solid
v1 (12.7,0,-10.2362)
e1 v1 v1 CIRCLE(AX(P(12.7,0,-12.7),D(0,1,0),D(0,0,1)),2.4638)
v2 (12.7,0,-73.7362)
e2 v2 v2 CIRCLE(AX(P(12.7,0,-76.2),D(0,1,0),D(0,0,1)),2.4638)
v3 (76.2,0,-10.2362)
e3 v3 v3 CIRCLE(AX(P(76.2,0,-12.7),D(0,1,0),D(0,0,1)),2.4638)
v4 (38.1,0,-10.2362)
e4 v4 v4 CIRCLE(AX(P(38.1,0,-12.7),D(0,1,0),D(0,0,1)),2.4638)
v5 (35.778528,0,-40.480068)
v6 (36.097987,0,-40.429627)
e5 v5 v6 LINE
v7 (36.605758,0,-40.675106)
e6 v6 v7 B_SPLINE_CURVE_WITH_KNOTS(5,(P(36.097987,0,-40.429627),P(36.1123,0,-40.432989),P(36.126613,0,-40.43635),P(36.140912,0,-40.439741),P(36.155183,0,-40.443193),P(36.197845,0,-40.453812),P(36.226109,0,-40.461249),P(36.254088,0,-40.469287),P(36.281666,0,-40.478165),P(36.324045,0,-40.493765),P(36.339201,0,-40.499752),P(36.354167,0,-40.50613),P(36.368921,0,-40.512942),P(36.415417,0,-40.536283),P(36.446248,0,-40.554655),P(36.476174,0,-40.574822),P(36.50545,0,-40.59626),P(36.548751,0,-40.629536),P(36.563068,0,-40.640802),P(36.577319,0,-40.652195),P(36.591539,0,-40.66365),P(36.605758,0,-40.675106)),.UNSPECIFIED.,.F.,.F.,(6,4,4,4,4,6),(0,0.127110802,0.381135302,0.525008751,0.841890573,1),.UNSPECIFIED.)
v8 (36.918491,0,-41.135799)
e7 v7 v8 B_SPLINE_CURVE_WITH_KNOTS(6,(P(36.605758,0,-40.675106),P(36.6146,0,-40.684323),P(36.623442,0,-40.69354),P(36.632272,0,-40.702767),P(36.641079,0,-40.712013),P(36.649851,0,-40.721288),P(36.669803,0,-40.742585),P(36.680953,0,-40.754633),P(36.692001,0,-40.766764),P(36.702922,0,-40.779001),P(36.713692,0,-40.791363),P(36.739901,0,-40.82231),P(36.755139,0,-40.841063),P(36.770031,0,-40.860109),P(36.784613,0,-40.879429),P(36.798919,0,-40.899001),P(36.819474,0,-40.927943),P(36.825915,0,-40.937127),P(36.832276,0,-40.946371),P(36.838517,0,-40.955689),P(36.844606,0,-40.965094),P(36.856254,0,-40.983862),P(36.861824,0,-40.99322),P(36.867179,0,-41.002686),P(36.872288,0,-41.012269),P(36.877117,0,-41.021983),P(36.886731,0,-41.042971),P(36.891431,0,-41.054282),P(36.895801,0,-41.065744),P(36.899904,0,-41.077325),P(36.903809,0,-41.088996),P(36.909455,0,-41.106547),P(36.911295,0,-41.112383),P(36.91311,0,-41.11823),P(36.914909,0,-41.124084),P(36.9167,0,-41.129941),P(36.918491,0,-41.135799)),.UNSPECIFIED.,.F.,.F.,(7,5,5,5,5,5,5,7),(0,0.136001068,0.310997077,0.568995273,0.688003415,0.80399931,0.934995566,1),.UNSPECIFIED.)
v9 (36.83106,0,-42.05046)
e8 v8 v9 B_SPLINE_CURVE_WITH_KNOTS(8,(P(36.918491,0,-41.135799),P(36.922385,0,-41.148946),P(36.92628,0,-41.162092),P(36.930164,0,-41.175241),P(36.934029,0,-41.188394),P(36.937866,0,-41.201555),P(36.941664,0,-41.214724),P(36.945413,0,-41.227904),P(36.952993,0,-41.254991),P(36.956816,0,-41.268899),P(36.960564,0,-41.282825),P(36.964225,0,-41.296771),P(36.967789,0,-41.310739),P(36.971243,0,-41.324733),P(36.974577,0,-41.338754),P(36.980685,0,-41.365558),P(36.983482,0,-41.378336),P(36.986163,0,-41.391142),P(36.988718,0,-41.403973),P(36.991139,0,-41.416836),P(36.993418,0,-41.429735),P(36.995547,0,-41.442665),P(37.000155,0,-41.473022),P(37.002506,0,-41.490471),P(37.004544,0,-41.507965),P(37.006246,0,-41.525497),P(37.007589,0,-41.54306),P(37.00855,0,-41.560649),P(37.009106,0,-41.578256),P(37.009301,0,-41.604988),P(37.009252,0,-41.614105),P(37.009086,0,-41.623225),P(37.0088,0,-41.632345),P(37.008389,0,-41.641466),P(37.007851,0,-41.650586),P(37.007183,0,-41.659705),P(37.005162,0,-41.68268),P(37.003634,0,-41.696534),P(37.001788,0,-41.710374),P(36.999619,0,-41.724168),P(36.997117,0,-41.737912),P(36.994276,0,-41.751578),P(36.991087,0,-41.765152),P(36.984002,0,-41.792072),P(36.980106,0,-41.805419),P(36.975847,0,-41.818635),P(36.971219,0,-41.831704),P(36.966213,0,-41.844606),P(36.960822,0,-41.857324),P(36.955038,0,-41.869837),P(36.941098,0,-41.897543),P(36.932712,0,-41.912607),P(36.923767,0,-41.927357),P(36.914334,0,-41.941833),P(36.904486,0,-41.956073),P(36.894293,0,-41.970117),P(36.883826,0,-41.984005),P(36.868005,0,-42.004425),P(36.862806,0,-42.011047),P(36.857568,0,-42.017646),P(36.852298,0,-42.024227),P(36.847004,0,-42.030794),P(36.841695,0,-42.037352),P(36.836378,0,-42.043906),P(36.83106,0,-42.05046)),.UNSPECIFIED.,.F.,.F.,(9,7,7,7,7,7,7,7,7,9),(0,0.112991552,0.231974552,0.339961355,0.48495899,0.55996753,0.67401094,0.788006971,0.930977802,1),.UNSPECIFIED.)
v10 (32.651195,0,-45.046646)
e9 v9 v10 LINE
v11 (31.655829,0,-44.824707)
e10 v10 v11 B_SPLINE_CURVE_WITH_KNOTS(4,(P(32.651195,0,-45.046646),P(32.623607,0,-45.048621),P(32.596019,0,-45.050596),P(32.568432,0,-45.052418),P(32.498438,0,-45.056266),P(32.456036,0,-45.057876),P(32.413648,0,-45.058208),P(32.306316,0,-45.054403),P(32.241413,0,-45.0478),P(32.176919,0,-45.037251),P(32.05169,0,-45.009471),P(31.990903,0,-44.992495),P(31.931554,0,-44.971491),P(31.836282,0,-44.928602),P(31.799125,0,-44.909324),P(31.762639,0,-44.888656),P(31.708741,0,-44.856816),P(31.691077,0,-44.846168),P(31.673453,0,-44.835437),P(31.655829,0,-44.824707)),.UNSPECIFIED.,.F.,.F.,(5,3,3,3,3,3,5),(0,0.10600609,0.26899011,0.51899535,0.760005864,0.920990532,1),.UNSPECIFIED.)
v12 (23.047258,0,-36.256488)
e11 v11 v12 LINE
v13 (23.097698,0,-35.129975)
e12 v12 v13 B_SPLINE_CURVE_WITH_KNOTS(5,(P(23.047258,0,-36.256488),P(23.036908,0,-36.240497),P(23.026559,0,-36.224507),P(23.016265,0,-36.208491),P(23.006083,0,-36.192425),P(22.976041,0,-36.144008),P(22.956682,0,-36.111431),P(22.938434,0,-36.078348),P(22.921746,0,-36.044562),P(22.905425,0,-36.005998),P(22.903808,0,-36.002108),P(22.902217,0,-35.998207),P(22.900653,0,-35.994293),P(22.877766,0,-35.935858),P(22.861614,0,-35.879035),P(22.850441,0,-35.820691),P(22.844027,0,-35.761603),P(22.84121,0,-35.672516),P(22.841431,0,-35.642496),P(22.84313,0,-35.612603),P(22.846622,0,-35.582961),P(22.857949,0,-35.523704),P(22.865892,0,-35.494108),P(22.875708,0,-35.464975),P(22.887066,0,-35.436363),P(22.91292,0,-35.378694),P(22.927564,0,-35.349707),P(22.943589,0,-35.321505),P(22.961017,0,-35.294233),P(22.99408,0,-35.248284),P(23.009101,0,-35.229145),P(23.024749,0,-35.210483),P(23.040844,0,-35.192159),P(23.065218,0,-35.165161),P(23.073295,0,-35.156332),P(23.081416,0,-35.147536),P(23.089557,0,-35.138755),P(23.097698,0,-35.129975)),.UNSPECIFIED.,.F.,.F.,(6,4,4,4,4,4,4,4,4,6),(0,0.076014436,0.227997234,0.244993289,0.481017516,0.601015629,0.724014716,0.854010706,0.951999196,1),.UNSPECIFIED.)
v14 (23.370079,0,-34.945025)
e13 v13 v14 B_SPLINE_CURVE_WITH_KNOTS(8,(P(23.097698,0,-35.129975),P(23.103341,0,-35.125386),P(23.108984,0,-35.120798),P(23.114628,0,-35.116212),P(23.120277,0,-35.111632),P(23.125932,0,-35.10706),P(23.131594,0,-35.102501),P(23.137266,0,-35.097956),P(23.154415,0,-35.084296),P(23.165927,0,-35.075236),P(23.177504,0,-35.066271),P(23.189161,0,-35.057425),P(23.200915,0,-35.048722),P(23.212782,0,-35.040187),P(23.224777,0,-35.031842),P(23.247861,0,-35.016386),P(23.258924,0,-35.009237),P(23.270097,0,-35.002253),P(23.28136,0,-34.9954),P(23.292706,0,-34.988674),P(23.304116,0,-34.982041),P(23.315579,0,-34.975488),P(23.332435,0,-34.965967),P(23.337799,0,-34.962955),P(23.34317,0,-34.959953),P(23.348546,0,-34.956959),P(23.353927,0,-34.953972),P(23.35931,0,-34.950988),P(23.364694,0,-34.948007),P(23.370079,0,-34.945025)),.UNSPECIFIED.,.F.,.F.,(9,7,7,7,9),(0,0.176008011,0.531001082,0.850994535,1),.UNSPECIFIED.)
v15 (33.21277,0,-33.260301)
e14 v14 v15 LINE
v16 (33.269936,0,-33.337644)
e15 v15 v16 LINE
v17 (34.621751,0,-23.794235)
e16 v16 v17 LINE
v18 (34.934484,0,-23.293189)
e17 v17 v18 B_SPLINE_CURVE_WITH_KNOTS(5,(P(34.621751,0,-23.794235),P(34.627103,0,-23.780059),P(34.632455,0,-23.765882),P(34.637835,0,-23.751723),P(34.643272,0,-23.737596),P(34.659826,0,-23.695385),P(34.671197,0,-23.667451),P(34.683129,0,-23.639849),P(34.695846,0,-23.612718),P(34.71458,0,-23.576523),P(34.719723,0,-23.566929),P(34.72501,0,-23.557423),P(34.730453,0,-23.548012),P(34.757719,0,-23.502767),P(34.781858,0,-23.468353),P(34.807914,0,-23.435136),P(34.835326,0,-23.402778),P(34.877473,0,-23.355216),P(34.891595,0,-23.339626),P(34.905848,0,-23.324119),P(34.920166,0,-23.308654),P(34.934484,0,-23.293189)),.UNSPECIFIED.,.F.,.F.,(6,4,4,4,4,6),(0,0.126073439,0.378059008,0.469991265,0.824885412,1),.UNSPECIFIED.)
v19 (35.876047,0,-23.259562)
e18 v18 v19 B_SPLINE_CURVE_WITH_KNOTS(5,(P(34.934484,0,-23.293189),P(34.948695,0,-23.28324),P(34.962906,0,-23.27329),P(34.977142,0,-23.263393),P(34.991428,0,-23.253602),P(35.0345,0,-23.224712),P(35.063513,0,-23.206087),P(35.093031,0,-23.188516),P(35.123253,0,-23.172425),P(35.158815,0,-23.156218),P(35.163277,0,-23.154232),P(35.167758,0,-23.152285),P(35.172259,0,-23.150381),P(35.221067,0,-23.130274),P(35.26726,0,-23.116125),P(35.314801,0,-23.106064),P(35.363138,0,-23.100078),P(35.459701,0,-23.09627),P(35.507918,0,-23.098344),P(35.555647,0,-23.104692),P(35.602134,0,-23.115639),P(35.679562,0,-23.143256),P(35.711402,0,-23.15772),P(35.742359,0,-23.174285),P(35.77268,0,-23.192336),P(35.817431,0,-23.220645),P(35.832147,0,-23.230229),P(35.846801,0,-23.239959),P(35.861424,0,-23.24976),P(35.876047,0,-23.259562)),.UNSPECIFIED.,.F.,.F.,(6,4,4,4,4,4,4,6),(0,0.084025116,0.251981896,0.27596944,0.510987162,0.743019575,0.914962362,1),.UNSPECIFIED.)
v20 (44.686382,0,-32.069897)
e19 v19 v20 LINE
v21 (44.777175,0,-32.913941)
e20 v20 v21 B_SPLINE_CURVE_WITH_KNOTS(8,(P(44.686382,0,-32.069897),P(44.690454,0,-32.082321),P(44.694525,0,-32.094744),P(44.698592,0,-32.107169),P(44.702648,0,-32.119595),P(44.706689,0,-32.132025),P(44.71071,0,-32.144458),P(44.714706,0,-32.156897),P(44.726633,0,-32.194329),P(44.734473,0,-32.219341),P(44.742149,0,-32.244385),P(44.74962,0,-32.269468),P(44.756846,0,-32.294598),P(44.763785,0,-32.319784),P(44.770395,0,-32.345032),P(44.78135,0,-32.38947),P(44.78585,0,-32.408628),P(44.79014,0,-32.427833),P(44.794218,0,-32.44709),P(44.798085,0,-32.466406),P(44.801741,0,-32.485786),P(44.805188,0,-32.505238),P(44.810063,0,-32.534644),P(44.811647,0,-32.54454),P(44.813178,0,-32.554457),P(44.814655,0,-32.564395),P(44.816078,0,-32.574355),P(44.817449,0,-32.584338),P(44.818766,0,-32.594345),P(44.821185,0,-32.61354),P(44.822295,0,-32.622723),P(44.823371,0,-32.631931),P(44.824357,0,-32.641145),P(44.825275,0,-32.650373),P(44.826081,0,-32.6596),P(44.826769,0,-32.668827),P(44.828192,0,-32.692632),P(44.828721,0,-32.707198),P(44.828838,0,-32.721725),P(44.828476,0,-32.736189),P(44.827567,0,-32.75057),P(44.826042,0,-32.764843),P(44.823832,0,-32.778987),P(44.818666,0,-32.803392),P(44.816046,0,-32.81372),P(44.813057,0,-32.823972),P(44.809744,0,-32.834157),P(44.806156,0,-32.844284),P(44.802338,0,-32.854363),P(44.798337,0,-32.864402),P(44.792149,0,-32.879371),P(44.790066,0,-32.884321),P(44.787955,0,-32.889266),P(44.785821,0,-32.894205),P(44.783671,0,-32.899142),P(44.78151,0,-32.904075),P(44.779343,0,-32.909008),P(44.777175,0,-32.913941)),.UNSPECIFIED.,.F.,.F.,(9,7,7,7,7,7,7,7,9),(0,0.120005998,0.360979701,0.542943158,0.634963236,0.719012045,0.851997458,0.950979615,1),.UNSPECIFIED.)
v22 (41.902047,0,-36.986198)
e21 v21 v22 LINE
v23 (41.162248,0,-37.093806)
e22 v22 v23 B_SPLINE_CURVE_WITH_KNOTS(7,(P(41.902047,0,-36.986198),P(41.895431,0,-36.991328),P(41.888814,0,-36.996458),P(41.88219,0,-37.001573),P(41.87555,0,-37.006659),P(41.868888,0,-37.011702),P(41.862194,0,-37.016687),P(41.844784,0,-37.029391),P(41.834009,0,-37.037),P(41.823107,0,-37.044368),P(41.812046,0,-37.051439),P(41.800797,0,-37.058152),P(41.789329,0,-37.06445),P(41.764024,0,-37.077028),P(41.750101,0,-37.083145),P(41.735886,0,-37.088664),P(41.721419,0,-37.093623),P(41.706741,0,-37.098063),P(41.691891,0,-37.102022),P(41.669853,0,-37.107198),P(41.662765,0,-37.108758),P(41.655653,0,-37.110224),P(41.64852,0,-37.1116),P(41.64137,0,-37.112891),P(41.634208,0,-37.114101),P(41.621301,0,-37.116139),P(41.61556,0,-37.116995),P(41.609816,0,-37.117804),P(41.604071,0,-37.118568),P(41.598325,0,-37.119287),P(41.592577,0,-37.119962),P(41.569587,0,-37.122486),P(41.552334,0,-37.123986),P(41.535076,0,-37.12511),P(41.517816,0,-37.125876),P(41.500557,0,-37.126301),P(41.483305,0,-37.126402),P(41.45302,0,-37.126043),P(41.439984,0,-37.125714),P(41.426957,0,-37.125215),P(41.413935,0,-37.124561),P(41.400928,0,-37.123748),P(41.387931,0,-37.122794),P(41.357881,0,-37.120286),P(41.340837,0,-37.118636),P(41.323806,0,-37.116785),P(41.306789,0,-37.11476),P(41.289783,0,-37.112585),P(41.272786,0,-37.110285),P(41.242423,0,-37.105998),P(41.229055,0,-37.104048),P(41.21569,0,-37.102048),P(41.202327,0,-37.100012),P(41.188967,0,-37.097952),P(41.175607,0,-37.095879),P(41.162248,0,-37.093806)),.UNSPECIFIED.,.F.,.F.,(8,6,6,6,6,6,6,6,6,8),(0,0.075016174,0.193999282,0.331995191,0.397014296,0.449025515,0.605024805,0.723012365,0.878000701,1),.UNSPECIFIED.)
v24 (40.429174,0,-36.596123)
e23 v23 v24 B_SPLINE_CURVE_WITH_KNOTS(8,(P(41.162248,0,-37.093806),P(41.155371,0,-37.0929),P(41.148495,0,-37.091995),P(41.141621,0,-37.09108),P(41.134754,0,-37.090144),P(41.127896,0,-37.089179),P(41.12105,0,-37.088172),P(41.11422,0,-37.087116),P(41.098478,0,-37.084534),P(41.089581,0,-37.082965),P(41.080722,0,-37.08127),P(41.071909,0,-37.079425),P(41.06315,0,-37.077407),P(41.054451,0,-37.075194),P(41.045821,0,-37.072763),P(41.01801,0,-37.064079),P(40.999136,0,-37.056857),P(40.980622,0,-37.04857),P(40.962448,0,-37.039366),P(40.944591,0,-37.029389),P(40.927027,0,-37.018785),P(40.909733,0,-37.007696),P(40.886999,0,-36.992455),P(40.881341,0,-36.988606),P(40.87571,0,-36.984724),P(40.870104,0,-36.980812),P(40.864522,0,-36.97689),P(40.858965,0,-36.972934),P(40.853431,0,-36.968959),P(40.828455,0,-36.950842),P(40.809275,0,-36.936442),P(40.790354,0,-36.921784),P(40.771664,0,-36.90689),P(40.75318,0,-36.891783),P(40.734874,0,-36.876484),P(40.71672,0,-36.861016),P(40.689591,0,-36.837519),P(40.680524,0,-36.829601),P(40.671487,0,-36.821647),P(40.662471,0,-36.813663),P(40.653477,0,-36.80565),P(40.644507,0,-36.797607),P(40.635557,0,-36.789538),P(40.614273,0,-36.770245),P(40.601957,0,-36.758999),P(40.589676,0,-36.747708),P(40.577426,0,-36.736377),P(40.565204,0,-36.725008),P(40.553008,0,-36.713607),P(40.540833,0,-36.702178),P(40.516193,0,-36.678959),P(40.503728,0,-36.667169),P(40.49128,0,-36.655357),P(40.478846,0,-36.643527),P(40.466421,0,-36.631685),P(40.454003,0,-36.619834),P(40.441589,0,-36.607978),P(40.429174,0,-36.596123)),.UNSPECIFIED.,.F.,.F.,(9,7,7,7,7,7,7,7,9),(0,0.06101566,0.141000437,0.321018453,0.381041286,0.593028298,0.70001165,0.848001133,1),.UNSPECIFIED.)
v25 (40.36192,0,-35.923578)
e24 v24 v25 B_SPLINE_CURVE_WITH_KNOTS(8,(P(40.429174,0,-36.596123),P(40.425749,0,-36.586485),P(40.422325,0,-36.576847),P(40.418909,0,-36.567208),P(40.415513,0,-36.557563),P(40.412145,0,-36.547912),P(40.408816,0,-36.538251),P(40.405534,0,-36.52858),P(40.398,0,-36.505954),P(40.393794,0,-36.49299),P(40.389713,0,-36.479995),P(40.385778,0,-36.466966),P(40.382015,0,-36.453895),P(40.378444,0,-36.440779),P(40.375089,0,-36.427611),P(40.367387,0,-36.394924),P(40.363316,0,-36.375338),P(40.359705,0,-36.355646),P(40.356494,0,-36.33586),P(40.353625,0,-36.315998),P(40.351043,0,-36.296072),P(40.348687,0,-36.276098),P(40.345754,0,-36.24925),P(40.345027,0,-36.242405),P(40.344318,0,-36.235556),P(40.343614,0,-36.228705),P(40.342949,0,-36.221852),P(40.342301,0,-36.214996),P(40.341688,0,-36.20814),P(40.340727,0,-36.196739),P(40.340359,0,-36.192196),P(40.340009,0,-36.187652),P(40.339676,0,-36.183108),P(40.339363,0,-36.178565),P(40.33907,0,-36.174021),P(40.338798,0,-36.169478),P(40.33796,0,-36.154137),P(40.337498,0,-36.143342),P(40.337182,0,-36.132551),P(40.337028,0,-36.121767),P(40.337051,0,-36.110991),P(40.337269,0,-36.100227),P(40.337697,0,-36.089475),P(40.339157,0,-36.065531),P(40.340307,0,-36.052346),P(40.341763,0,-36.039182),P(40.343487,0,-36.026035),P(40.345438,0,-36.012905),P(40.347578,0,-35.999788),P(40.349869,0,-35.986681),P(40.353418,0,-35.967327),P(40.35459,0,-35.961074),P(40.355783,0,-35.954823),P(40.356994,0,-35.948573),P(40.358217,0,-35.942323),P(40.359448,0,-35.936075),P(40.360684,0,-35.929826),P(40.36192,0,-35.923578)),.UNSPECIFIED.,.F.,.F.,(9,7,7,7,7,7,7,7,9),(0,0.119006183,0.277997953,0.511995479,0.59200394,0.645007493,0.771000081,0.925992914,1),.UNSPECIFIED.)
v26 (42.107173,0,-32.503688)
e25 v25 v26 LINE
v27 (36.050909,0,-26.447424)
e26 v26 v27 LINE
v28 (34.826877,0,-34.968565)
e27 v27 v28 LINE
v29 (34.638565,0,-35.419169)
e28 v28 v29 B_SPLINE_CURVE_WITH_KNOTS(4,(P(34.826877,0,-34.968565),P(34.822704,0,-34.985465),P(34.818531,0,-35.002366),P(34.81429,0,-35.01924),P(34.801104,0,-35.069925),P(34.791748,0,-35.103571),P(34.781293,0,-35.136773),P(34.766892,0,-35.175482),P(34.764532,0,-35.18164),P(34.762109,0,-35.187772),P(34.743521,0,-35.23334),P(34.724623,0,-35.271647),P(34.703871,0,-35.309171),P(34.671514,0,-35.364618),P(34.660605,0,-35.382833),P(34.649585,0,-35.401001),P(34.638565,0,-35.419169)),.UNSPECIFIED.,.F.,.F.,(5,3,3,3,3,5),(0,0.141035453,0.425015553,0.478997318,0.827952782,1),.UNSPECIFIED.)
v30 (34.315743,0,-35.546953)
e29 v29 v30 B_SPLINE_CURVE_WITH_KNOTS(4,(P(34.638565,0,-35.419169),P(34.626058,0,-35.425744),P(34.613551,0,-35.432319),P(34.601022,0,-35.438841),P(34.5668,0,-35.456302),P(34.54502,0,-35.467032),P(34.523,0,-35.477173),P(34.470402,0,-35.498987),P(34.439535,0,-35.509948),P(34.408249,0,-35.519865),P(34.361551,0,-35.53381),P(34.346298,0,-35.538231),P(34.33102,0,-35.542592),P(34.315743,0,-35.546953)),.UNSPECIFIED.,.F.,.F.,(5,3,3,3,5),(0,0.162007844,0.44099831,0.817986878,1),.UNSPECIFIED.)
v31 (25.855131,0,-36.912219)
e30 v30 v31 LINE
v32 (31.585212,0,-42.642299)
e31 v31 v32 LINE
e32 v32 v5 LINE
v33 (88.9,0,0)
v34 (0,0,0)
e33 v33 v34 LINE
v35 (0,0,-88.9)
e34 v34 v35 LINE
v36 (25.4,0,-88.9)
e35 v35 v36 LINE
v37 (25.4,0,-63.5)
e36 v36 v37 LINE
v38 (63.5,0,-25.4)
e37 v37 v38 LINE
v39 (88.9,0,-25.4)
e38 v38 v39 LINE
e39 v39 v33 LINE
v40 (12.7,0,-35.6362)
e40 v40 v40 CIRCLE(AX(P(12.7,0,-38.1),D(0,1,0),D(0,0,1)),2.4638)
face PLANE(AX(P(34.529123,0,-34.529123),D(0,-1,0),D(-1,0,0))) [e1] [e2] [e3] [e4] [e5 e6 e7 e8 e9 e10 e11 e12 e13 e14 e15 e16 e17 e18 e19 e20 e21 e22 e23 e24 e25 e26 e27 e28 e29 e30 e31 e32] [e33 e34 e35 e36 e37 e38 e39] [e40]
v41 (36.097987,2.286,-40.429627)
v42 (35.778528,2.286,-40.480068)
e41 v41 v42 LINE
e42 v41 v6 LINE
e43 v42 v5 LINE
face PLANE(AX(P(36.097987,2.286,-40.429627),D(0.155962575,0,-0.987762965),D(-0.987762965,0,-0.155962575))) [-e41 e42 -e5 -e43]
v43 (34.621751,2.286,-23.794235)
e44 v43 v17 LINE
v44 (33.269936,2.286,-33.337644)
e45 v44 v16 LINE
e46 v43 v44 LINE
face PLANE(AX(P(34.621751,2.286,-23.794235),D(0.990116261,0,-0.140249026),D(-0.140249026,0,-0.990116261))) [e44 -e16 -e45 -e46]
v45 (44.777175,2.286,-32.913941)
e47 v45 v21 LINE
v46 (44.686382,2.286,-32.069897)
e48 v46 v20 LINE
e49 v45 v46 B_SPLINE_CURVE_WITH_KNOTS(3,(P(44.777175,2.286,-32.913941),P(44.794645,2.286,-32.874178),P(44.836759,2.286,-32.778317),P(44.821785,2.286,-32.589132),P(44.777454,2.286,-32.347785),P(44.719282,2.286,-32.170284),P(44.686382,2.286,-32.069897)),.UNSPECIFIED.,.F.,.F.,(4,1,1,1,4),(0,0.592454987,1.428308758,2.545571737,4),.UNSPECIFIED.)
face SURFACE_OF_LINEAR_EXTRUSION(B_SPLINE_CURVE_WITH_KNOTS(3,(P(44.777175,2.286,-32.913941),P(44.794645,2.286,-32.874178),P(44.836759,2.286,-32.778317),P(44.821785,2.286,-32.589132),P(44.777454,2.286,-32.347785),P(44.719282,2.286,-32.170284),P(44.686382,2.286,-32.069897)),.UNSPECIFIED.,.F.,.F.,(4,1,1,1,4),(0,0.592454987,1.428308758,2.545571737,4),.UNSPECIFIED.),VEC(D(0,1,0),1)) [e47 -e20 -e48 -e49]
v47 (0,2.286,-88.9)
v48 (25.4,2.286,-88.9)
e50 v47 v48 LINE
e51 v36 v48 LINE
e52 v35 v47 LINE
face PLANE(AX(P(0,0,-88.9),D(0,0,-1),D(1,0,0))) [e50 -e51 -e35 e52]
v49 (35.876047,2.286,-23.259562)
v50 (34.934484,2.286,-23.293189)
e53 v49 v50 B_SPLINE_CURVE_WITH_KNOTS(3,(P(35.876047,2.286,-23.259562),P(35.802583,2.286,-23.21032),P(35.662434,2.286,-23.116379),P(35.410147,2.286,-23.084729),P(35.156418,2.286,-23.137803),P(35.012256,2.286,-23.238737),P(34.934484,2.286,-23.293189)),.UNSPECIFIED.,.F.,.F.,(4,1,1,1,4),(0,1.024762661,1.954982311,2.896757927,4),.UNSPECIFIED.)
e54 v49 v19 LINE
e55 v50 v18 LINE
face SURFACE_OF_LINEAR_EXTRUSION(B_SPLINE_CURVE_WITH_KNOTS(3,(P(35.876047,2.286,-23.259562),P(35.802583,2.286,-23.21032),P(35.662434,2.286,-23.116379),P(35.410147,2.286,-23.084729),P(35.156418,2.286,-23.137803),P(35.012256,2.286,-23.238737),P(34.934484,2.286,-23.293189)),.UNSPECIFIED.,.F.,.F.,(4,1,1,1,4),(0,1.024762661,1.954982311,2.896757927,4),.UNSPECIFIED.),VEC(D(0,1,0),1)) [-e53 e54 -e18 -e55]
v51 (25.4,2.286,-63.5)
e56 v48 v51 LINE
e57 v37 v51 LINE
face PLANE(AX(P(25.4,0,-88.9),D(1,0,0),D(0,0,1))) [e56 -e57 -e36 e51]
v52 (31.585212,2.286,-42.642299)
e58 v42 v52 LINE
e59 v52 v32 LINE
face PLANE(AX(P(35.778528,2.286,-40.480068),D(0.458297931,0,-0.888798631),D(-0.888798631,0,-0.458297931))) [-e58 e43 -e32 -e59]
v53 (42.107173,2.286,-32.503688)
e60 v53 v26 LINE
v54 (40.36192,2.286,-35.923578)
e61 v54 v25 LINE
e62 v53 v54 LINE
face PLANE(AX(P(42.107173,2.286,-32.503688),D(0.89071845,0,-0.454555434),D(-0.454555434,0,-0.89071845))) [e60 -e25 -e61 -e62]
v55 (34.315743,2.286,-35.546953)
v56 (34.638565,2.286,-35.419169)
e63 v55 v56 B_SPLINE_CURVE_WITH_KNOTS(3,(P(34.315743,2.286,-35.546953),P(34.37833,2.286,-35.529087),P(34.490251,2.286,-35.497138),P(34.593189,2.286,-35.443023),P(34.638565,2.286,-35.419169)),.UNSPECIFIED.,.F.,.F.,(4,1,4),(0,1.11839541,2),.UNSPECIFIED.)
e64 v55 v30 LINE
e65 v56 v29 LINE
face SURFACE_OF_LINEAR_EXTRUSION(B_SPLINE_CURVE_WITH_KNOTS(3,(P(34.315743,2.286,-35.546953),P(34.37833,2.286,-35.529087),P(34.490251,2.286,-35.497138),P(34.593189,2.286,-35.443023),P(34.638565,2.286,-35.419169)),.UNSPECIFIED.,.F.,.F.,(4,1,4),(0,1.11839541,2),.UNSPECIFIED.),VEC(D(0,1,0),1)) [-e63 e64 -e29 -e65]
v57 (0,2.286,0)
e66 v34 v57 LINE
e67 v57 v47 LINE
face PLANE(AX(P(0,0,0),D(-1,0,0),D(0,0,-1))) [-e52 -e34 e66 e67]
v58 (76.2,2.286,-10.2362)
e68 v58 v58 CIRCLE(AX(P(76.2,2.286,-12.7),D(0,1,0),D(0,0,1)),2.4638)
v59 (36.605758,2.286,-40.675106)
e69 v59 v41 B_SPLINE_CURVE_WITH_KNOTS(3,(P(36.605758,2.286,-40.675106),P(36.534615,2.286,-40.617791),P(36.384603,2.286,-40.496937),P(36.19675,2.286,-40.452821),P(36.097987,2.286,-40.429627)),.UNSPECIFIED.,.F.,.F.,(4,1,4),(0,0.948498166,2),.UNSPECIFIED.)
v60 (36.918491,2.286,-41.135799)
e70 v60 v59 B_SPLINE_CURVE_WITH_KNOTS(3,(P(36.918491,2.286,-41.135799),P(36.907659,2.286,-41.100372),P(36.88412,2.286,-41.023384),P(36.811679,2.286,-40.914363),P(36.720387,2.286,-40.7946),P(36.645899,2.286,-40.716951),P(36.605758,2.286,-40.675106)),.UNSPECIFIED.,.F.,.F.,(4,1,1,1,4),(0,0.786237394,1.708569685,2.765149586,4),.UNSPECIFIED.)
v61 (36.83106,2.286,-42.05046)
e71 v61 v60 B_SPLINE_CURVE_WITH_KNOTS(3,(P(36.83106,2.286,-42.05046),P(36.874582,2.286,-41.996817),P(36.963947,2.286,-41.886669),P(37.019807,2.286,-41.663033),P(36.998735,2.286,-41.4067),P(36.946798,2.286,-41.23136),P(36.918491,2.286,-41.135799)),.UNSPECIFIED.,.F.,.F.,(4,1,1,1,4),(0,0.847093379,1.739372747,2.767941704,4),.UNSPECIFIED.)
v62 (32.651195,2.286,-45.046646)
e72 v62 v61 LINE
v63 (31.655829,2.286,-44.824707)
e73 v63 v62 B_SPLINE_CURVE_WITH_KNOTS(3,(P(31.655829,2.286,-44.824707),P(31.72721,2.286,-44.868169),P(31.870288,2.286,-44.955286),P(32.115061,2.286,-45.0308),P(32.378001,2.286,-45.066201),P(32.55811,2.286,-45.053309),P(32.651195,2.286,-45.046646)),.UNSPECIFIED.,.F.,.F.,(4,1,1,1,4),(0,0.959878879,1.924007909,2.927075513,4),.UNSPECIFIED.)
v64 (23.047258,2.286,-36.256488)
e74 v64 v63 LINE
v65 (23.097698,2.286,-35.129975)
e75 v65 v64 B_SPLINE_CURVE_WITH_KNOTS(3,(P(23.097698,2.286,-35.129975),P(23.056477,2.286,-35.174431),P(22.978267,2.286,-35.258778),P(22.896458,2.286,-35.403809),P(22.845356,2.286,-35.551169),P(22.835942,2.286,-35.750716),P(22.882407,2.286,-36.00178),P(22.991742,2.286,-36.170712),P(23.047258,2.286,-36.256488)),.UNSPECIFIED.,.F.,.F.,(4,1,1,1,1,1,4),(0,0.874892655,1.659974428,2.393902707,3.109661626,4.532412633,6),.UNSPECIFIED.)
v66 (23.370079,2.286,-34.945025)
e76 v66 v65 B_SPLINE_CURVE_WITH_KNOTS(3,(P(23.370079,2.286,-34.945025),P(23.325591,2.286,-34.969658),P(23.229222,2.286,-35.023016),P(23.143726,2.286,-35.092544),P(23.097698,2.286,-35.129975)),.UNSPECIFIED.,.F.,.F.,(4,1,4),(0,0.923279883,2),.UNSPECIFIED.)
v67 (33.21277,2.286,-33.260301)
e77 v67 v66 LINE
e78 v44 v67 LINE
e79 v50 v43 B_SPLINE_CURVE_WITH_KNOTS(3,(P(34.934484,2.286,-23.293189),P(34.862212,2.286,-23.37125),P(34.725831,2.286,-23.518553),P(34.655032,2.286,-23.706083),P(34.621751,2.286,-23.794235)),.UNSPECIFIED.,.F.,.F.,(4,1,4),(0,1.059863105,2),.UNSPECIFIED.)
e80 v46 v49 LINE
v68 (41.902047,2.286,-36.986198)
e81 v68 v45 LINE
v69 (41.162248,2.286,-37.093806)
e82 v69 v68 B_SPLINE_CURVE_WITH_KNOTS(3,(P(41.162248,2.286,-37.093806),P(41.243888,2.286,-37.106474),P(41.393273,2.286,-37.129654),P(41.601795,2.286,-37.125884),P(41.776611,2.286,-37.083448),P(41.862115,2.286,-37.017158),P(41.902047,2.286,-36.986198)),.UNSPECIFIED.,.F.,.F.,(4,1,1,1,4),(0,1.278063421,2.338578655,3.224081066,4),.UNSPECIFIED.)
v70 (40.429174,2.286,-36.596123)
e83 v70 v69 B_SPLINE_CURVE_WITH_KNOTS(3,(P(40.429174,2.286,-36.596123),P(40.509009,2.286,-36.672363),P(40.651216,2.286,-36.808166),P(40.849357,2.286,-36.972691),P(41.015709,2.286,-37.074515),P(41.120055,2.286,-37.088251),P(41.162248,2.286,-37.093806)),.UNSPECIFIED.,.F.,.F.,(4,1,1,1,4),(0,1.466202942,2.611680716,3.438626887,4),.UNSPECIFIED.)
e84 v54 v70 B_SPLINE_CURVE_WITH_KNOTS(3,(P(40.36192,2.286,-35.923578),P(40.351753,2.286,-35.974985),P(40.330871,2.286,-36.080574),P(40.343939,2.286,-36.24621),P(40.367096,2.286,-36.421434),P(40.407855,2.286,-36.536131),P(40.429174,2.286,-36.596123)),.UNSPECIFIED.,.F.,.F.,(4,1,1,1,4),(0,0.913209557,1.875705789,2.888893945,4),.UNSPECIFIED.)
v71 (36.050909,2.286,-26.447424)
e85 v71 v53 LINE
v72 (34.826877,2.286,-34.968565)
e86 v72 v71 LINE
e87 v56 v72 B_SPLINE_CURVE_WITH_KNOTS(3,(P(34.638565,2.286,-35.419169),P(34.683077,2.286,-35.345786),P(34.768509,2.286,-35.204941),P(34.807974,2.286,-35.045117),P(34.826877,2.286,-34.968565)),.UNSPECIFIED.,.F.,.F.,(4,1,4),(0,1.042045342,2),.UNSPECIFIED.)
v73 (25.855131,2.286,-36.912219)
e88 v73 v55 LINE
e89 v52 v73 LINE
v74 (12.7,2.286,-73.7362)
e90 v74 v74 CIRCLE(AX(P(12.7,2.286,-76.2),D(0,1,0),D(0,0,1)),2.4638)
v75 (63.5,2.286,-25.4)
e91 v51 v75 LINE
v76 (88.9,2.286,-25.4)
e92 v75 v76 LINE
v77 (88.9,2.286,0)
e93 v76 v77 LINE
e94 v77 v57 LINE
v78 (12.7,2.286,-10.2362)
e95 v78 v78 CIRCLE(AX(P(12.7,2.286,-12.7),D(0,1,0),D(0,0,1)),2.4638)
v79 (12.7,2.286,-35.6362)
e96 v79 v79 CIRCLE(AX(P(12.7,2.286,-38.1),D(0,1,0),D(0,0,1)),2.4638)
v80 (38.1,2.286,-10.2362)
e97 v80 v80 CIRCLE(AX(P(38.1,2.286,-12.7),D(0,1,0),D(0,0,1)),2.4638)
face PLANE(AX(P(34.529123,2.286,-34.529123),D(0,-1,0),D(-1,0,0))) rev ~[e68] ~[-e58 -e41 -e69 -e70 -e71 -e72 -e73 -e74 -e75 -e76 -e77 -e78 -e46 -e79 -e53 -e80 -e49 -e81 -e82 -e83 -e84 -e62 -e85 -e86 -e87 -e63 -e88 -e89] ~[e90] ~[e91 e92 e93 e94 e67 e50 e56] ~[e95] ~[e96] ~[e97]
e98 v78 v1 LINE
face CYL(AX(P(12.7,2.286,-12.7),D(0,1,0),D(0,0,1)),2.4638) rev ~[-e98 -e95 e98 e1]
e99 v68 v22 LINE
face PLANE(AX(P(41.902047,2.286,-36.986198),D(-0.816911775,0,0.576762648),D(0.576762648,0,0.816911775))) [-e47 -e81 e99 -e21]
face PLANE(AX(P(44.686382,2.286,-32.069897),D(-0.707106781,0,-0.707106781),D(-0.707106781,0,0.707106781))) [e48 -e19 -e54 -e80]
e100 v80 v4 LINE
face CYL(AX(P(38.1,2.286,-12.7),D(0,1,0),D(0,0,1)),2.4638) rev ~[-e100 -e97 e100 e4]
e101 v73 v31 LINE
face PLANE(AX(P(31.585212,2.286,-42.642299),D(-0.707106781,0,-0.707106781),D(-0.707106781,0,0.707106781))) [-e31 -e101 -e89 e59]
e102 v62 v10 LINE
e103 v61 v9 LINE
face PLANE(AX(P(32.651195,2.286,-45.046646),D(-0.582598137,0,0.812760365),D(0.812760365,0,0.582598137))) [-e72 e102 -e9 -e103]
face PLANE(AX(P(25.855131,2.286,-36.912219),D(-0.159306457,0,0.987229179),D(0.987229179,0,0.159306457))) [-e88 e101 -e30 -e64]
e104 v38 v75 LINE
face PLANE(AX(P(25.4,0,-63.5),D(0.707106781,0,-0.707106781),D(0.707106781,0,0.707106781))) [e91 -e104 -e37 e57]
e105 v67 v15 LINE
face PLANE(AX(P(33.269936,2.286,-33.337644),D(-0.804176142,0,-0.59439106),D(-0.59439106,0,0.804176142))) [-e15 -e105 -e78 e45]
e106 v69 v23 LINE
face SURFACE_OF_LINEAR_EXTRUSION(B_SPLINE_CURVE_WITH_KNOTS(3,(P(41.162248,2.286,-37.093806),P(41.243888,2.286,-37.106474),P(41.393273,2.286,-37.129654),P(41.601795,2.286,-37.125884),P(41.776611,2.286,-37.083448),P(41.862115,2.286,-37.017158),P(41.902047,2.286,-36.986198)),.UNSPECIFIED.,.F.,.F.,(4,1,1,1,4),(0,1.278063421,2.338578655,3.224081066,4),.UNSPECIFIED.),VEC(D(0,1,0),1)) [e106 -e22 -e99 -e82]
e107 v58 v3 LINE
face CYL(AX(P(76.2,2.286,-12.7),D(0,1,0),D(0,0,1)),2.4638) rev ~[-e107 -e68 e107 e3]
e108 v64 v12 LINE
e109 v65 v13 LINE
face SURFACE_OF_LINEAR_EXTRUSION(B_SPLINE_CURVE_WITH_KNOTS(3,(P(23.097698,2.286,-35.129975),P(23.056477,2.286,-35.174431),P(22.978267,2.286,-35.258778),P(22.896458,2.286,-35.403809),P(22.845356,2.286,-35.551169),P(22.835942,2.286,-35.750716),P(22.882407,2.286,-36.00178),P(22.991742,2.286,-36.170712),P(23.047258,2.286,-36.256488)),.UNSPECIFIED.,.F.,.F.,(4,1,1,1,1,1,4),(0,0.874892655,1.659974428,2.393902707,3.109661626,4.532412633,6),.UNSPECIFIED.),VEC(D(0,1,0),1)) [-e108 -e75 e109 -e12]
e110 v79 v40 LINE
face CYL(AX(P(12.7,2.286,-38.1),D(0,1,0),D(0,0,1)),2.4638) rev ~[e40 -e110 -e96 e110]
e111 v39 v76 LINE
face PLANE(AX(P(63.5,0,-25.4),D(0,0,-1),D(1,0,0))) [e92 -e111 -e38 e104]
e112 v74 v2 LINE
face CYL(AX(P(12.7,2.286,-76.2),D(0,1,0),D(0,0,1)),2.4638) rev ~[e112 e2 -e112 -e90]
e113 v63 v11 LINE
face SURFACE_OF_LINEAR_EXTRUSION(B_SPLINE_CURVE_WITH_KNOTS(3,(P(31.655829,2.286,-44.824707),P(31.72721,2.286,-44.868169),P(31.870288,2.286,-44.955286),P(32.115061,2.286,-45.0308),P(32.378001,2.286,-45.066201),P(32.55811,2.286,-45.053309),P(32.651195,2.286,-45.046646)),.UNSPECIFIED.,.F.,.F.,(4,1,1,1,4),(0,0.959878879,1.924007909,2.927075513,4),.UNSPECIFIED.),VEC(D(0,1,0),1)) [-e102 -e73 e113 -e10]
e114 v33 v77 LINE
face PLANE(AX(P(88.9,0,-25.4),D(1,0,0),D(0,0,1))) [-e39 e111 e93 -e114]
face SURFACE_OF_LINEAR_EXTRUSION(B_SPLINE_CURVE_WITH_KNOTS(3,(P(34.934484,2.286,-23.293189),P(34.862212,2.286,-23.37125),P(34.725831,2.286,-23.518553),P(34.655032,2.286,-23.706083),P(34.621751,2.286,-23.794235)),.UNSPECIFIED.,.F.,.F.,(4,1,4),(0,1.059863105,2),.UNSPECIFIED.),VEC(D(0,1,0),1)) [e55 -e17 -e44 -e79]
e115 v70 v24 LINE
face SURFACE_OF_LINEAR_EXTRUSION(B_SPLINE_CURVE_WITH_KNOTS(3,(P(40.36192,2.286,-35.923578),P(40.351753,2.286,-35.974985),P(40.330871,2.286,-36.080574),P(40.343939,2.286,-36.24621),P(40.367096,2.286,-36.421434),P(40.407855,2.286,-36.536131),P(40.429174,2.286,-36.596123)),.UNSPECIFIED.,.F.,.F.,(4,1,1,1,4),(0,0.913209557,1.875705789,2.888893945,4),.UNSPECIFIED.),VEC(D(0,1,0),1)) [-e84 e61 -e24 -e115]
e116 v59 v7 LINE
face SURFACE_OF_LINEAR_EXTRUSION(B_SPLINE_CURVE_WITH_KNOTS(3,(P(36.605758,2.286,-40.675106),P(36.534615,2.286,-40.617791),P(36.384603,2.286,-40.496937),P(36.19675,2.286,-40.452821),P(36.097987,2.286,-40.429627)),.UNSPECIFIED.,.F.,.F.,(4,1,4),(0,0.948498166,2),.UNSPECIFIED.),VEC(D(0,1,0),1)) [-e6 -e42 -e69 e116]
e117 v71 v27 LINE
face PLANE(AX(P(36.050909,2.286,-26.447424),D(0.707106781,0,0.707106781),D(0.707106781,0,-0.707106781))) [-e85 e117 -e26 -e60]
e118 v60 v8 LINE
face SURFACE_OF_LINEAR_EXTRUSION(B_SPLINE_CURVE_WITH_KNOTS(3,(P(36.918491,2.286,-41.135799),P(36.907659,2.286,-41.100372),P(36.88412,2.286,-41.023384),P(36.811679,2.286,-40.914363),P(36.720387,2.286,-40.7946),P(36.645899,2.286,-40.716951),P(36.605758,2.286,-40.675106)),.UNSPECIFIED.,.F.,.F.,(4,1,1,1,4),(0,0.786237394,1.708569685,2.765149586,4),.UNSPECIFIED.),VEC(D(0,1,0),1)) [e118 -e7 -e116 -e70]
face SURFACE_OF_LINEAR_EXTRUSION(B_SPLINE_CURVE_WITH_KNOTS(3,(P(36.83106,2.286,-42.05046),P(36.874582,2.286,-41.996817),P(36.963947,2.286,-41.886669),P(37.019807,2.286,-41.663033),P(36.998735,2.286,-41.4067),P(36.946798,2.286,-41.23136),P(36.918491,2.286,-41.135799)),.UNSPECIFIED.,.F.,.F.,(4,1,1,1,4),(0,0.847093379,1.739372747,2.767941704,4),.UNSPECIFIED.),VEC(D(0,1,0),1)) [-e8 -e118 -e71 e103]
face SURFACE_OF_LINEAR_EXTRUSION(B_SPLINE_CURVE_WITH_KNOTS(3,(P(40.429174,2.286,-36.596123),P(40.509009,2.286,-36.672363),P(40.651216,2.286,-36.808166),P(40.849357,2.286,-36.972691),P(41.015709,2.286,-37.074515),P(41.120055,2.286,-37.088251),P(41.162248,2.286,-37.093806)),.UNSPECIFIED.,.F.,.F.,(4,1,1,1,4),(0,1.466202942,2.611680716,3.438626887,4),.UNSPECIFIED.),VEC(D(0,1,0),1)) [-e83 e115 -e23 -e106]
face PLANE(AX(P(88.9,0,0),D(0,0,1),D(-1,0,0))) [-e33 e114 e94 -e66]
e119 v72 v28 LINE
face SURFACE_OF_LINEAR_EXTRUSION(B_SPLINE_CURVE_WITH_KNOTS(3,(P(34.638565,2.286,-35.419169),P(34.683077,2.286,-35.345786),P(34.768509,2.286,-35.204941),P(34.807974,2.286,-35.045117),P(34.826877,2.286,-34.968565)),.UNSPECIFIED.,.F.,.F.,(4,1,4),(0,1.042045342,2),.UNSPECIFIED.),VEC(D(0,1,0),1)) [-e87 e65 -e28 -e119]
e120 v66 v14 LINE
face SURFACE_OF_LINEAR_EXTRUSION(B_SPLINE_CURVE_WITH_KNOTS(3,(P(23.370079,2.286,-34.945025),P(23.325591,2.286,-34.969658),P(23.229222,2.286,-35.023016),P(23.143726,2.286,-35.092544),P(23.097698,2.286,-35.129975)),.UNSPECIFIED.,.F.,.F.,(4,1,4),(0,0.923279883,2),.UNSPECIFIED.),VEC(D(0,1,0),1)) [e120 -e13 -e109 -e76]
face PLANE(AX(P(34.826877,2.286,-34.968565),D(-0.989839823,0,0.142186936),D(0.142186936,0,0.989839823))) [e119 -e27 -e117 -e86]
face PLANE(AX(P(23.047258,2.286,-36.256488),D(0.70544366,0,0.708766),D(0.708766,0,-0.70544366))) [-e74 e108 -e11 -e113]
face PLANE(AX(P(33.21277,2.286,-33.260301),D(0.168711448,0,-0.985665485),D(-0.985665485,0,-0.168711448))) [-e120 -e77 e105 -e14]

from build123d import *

# Parameters (mm, degrees)
BOSS_EXTRUDE1_DEPTH = 2.286
CUT_EXTRUDE1_DEPTH  = 126.744366856
SKETCH3_R           = 2.4638
CUT_EXTRUDE2_DEPTH  = 126.744366999


with BuildPart() as part:
    # Sketch1 → Boss-Extrude1 (new body)
    with BuildSketch(Plane(origin=(0, 0, 0), x_dir=(1, 0, 0), z_dir=(0, 1, 0))):
        Polygon((25.4, 63.5), (63.5, 25.4), (88.9, 25.4), (88.9, 0), (0, 0), (0, 88.9), (25.4, 88.9), align=None)
    extrude(amount=BOSS_EXTRUDE1_DEPTH)

    # Sketch2 → Cut-Extrude1 (cut, through all)
    with BuildSketch(Plane(origin=(0, 2.286, 0), x_dir=(1, 0, 0), z_dir=(0, 1, 0))):
        with BuildLine():
            add(Edge.make_bspline(
                [(31.65582917, 44.824706507), (31.72721015, 44.868168803), (31.870288171, 44.955285838), (32.115061475, 45.030799557), (32.37800112, 45.066201469), (32.558110333, 45.05330926), (32.651195267, 45.046646245)],
                knots=[0, 0, 0, 0, 0.959878879, 1.924007909, 2.927075513, 4, 4, 4, 4], degree=3))
            Line((32.651195267, 45.046646245), (36.831060331, 42.050459784))
            add(Edge.make_bspline(
                [(36.831060331, 42.050459784), (36.874582097, 41.996816639), (36.963947184, 41.886668896), (37.019807322, 41.663032648), (36.998735396, 41.406700154), (36.946797609, 41.231360456), (36.918491136, 41.135799046)],
                knots=[0, 0, 0, 0, 0.847093379, 1.739372747, 2.767941704, 4, 4, 4, 4], degree=3))
            add(Edge.make_bspline(
                [(36.918491136, 41.135799046), (36.907659111, 41.100371643), (36.884120075, 41.023384482), (36.811679346, 40.91436251), (36.720386672, 40.794599967), (36.64589915, 40.716950958), (36.605757869, 40.675105953)],
                knots=[0, 0, 0, 0, 0.786237394, 1.708569685, 2.765149586, 4, 4, 4, 4], degree=3))
            add(Edge.make_bspline(
                [(36.605757869, 40.675105953), (36.534614921, 40.6177911), (36.384603144, 40.496937196), (36.196750402, 40.452821185), (36.097986651, 40.429627152)],
                knots=[0, 0, 0, 0, 0.948498166, 2, 2, 2, 2], degree=3))
            Line((36.097986651, 40.429627152), (35.778527937, 40.480068002))
            Line((35.778527937, 40.480068002), (31.58521198, 42.642299085))
            Line((31.58521198, 42.642299085), (25.855131474, 36.912218579))
            Line((25.855131474, 36.912218579), (34.315743301, 35.546952919))
            add(Edge.make_bspline(
                [(34.315743301, 35.546952919), (34.378329612, 35.529086939), (34.490251228, 35.497137631), (34.593189369, 35.443023199), (34.638564738, 35.419169433)],
                knots=[0, 0, 0, 0, 1.11839541, 2, 2, 2, 2], degree=3))
            add(Edge.make_bspline(
                [(34.638564738, 35.419169433), (34.683076904, 35.345786024), (34.768509207, 35.204941079), (34.807974339, 35.045116744), (34.826877243, 34.968564511)],
                knots=[0, 0, 0, 0, 1.042045342, 2, 2, 2, 2], degree=3))
            Line((34.826877243, 34.968564511), (36.050908525, 26.447423665))
            Line((36.050908525, 26.447423665), (42.107173191, 32.503688331))
            Line((42.107173191, 32.503688331), (40.361919797, 35.923577928))
            add(Edge.make_bspline(
                [(40.361919797, 35.923577928), (40.351753136, 35.974985176), (40.330871112, 36.080574163), (40.3439389, 36.246210329), (40.367095634, 36.421433735), (40.407855126, 36.536130678), (40.429174263, 36.596122589)],
                knots=[0, 0, 0, 0, 0.913209557, 1.875705789, 2.888893945, 4, 4, 4, 4], degree=3))
            add(Edge.make_bspline(
                [(40.429174263, 36.596122589), (40.509009346, 36.672362665), (40.651215954, 36.808165651), (40.849356719, 36.972690697), (41.015708613, 37.074515143), (41.12005501, 37.088251343), (41.162247943, 37.093805637)],
                knots=[0, 0, 0, 0, 1.466202942, 2.611680716, 3.438626887, 4, 4, 4, 4], degree=3))
            add(Edge.make_bspline(
                [(41.162247943, 37.093805637), (41.243888372, 37.10647383), (41.393272638, 37.129653873), (41.601794633, 37.125883922), (41.776610643, 37.083447982), (41.862114812, 37.017157534), (41.902047069, 36.986198492)],
                knots=[0, 0, 0, 0, 1.278063421, 2.338578655, 3.224081066, 4, 4, 4, 4], degree=3))
            Line((41.902047069, 36.986198492), (44.777175492, 32.913940573))
            add(Edge.make_bspline(
                [(44.777175492, 32.913940573), (44.794644521, 32.874178054), (44.836759395, 32.778317344), (44.821784918, 32.589132207), (44.777454045, 32.347784995), (44.719281585, 32.170283543), (44.686381963, 32.069897025)],
                knots=[0, 0, 0, 0, 0.592454987, 1.428308758, 2.545571737, 4, 4, 4, 4], degree=3))
            Line((44.686381963, 32.069897025), (35.876046913, 23.259561975))
            add(Edge.make_bspline(
                [(35.876046913, 23.259561975), (35.802583462, 23.210319908), (35.662434184, 23.11637877), (35.410146741, 23.084728901), (35.156417578, 23.137802986), (35.012256253, 23.238737342), (34.934484389, 23.293189208)],
                knots=[0, 0, 0, 0, 1.024762661, 1.954982311, 2.896757927, 4, 4, 4, 4], degree=3))
            add(Edge.make_bspline(
                [(34.934484389, 23.293189208), (34.862211763, 23.371249908), (34.725830705, 23.518553272), (34.655031564, 23.706083117), (34.621751121, 23.79423498)],
                knots=[0, 0, 0, 0, 1.059863105, 2, 2, 2, 2], degree=3))
            Line((34.621751121, 23.79423498), (33.269936354, 33.337643709))
            Line((33.269936354, 33.337643709), (33.212770058, 33.260301073))
            Line((33.212770058, 33.260301073), (23.370078955, 34.945025448))
            add(Edge.make_bspline(
                [(23.370078955, 34.945025448), (23.325591172, 34.969657633), (23.229222166, 35.023015636), (23.143726057, 35.092543958), (23.097698367, 35.129975229)],
                knots=[0, 0, 0, 0, 0.923279883, 2, 2, 2, 2], degree=3))
            add(Edge.make_bspline(
                [(23.097698367, 35.129975229), (23.056477465, 35.174430553), (22.978267135, 35.258777702), (22.896457595, 35.403808998), (22.845356477, 35.551168549), (22.835942364, 35.750716315), (22.882407019, 36.001780496), (22.991741999, 36.170711674), (23.047257518, 36.256487535)],
                knots=[0, 0, 0, 0, 0.874892655, 1.659974428, 2.393902707, 3.109661626, 4.532412633, 6, 6, 6, 6], degree=3))
            Line((23.047257518, 36.256487535), (31.65582917, 44.824706507))
        make_face()
    extrude(amount=-CUT_EXTRUDE1_DEPTH, mode=Mode.SUBTRACT)

    # Sketch3 → Cut-Extrude2 (cut, through all)
    with BuildSketch(Plane(origin=(0, 2.286, 0), x_dir=(1, 0, 0), z_dir=(0, 1, 0))):
        with Locations(Location((76.2, 12.7, 0), (0, 0, 270))):
            Circle(SKETCH3_R)
        with Locations(Location((12.7, 12.7, 0), (0, 0, 270))):
            Circle(SKETCH3_R)
        with Locations(Location((12.7, 76.2, 0), (0, 0, 270))):
            Circle(SKETCH3_R)
        with Locations(Location((12.7, 38.1, 0), (0, 0, 270))):
            Circle(SKETCH3_R)
        with Locations(Location((38.1, 12.7, 0), (0, 0, 270))):
            Circle(SKETCH3_R)
    extrude(amount=-CUT_EXTRUDE2_DEPTH, mode=Mode.SUBTRACT)


solid = part.part
